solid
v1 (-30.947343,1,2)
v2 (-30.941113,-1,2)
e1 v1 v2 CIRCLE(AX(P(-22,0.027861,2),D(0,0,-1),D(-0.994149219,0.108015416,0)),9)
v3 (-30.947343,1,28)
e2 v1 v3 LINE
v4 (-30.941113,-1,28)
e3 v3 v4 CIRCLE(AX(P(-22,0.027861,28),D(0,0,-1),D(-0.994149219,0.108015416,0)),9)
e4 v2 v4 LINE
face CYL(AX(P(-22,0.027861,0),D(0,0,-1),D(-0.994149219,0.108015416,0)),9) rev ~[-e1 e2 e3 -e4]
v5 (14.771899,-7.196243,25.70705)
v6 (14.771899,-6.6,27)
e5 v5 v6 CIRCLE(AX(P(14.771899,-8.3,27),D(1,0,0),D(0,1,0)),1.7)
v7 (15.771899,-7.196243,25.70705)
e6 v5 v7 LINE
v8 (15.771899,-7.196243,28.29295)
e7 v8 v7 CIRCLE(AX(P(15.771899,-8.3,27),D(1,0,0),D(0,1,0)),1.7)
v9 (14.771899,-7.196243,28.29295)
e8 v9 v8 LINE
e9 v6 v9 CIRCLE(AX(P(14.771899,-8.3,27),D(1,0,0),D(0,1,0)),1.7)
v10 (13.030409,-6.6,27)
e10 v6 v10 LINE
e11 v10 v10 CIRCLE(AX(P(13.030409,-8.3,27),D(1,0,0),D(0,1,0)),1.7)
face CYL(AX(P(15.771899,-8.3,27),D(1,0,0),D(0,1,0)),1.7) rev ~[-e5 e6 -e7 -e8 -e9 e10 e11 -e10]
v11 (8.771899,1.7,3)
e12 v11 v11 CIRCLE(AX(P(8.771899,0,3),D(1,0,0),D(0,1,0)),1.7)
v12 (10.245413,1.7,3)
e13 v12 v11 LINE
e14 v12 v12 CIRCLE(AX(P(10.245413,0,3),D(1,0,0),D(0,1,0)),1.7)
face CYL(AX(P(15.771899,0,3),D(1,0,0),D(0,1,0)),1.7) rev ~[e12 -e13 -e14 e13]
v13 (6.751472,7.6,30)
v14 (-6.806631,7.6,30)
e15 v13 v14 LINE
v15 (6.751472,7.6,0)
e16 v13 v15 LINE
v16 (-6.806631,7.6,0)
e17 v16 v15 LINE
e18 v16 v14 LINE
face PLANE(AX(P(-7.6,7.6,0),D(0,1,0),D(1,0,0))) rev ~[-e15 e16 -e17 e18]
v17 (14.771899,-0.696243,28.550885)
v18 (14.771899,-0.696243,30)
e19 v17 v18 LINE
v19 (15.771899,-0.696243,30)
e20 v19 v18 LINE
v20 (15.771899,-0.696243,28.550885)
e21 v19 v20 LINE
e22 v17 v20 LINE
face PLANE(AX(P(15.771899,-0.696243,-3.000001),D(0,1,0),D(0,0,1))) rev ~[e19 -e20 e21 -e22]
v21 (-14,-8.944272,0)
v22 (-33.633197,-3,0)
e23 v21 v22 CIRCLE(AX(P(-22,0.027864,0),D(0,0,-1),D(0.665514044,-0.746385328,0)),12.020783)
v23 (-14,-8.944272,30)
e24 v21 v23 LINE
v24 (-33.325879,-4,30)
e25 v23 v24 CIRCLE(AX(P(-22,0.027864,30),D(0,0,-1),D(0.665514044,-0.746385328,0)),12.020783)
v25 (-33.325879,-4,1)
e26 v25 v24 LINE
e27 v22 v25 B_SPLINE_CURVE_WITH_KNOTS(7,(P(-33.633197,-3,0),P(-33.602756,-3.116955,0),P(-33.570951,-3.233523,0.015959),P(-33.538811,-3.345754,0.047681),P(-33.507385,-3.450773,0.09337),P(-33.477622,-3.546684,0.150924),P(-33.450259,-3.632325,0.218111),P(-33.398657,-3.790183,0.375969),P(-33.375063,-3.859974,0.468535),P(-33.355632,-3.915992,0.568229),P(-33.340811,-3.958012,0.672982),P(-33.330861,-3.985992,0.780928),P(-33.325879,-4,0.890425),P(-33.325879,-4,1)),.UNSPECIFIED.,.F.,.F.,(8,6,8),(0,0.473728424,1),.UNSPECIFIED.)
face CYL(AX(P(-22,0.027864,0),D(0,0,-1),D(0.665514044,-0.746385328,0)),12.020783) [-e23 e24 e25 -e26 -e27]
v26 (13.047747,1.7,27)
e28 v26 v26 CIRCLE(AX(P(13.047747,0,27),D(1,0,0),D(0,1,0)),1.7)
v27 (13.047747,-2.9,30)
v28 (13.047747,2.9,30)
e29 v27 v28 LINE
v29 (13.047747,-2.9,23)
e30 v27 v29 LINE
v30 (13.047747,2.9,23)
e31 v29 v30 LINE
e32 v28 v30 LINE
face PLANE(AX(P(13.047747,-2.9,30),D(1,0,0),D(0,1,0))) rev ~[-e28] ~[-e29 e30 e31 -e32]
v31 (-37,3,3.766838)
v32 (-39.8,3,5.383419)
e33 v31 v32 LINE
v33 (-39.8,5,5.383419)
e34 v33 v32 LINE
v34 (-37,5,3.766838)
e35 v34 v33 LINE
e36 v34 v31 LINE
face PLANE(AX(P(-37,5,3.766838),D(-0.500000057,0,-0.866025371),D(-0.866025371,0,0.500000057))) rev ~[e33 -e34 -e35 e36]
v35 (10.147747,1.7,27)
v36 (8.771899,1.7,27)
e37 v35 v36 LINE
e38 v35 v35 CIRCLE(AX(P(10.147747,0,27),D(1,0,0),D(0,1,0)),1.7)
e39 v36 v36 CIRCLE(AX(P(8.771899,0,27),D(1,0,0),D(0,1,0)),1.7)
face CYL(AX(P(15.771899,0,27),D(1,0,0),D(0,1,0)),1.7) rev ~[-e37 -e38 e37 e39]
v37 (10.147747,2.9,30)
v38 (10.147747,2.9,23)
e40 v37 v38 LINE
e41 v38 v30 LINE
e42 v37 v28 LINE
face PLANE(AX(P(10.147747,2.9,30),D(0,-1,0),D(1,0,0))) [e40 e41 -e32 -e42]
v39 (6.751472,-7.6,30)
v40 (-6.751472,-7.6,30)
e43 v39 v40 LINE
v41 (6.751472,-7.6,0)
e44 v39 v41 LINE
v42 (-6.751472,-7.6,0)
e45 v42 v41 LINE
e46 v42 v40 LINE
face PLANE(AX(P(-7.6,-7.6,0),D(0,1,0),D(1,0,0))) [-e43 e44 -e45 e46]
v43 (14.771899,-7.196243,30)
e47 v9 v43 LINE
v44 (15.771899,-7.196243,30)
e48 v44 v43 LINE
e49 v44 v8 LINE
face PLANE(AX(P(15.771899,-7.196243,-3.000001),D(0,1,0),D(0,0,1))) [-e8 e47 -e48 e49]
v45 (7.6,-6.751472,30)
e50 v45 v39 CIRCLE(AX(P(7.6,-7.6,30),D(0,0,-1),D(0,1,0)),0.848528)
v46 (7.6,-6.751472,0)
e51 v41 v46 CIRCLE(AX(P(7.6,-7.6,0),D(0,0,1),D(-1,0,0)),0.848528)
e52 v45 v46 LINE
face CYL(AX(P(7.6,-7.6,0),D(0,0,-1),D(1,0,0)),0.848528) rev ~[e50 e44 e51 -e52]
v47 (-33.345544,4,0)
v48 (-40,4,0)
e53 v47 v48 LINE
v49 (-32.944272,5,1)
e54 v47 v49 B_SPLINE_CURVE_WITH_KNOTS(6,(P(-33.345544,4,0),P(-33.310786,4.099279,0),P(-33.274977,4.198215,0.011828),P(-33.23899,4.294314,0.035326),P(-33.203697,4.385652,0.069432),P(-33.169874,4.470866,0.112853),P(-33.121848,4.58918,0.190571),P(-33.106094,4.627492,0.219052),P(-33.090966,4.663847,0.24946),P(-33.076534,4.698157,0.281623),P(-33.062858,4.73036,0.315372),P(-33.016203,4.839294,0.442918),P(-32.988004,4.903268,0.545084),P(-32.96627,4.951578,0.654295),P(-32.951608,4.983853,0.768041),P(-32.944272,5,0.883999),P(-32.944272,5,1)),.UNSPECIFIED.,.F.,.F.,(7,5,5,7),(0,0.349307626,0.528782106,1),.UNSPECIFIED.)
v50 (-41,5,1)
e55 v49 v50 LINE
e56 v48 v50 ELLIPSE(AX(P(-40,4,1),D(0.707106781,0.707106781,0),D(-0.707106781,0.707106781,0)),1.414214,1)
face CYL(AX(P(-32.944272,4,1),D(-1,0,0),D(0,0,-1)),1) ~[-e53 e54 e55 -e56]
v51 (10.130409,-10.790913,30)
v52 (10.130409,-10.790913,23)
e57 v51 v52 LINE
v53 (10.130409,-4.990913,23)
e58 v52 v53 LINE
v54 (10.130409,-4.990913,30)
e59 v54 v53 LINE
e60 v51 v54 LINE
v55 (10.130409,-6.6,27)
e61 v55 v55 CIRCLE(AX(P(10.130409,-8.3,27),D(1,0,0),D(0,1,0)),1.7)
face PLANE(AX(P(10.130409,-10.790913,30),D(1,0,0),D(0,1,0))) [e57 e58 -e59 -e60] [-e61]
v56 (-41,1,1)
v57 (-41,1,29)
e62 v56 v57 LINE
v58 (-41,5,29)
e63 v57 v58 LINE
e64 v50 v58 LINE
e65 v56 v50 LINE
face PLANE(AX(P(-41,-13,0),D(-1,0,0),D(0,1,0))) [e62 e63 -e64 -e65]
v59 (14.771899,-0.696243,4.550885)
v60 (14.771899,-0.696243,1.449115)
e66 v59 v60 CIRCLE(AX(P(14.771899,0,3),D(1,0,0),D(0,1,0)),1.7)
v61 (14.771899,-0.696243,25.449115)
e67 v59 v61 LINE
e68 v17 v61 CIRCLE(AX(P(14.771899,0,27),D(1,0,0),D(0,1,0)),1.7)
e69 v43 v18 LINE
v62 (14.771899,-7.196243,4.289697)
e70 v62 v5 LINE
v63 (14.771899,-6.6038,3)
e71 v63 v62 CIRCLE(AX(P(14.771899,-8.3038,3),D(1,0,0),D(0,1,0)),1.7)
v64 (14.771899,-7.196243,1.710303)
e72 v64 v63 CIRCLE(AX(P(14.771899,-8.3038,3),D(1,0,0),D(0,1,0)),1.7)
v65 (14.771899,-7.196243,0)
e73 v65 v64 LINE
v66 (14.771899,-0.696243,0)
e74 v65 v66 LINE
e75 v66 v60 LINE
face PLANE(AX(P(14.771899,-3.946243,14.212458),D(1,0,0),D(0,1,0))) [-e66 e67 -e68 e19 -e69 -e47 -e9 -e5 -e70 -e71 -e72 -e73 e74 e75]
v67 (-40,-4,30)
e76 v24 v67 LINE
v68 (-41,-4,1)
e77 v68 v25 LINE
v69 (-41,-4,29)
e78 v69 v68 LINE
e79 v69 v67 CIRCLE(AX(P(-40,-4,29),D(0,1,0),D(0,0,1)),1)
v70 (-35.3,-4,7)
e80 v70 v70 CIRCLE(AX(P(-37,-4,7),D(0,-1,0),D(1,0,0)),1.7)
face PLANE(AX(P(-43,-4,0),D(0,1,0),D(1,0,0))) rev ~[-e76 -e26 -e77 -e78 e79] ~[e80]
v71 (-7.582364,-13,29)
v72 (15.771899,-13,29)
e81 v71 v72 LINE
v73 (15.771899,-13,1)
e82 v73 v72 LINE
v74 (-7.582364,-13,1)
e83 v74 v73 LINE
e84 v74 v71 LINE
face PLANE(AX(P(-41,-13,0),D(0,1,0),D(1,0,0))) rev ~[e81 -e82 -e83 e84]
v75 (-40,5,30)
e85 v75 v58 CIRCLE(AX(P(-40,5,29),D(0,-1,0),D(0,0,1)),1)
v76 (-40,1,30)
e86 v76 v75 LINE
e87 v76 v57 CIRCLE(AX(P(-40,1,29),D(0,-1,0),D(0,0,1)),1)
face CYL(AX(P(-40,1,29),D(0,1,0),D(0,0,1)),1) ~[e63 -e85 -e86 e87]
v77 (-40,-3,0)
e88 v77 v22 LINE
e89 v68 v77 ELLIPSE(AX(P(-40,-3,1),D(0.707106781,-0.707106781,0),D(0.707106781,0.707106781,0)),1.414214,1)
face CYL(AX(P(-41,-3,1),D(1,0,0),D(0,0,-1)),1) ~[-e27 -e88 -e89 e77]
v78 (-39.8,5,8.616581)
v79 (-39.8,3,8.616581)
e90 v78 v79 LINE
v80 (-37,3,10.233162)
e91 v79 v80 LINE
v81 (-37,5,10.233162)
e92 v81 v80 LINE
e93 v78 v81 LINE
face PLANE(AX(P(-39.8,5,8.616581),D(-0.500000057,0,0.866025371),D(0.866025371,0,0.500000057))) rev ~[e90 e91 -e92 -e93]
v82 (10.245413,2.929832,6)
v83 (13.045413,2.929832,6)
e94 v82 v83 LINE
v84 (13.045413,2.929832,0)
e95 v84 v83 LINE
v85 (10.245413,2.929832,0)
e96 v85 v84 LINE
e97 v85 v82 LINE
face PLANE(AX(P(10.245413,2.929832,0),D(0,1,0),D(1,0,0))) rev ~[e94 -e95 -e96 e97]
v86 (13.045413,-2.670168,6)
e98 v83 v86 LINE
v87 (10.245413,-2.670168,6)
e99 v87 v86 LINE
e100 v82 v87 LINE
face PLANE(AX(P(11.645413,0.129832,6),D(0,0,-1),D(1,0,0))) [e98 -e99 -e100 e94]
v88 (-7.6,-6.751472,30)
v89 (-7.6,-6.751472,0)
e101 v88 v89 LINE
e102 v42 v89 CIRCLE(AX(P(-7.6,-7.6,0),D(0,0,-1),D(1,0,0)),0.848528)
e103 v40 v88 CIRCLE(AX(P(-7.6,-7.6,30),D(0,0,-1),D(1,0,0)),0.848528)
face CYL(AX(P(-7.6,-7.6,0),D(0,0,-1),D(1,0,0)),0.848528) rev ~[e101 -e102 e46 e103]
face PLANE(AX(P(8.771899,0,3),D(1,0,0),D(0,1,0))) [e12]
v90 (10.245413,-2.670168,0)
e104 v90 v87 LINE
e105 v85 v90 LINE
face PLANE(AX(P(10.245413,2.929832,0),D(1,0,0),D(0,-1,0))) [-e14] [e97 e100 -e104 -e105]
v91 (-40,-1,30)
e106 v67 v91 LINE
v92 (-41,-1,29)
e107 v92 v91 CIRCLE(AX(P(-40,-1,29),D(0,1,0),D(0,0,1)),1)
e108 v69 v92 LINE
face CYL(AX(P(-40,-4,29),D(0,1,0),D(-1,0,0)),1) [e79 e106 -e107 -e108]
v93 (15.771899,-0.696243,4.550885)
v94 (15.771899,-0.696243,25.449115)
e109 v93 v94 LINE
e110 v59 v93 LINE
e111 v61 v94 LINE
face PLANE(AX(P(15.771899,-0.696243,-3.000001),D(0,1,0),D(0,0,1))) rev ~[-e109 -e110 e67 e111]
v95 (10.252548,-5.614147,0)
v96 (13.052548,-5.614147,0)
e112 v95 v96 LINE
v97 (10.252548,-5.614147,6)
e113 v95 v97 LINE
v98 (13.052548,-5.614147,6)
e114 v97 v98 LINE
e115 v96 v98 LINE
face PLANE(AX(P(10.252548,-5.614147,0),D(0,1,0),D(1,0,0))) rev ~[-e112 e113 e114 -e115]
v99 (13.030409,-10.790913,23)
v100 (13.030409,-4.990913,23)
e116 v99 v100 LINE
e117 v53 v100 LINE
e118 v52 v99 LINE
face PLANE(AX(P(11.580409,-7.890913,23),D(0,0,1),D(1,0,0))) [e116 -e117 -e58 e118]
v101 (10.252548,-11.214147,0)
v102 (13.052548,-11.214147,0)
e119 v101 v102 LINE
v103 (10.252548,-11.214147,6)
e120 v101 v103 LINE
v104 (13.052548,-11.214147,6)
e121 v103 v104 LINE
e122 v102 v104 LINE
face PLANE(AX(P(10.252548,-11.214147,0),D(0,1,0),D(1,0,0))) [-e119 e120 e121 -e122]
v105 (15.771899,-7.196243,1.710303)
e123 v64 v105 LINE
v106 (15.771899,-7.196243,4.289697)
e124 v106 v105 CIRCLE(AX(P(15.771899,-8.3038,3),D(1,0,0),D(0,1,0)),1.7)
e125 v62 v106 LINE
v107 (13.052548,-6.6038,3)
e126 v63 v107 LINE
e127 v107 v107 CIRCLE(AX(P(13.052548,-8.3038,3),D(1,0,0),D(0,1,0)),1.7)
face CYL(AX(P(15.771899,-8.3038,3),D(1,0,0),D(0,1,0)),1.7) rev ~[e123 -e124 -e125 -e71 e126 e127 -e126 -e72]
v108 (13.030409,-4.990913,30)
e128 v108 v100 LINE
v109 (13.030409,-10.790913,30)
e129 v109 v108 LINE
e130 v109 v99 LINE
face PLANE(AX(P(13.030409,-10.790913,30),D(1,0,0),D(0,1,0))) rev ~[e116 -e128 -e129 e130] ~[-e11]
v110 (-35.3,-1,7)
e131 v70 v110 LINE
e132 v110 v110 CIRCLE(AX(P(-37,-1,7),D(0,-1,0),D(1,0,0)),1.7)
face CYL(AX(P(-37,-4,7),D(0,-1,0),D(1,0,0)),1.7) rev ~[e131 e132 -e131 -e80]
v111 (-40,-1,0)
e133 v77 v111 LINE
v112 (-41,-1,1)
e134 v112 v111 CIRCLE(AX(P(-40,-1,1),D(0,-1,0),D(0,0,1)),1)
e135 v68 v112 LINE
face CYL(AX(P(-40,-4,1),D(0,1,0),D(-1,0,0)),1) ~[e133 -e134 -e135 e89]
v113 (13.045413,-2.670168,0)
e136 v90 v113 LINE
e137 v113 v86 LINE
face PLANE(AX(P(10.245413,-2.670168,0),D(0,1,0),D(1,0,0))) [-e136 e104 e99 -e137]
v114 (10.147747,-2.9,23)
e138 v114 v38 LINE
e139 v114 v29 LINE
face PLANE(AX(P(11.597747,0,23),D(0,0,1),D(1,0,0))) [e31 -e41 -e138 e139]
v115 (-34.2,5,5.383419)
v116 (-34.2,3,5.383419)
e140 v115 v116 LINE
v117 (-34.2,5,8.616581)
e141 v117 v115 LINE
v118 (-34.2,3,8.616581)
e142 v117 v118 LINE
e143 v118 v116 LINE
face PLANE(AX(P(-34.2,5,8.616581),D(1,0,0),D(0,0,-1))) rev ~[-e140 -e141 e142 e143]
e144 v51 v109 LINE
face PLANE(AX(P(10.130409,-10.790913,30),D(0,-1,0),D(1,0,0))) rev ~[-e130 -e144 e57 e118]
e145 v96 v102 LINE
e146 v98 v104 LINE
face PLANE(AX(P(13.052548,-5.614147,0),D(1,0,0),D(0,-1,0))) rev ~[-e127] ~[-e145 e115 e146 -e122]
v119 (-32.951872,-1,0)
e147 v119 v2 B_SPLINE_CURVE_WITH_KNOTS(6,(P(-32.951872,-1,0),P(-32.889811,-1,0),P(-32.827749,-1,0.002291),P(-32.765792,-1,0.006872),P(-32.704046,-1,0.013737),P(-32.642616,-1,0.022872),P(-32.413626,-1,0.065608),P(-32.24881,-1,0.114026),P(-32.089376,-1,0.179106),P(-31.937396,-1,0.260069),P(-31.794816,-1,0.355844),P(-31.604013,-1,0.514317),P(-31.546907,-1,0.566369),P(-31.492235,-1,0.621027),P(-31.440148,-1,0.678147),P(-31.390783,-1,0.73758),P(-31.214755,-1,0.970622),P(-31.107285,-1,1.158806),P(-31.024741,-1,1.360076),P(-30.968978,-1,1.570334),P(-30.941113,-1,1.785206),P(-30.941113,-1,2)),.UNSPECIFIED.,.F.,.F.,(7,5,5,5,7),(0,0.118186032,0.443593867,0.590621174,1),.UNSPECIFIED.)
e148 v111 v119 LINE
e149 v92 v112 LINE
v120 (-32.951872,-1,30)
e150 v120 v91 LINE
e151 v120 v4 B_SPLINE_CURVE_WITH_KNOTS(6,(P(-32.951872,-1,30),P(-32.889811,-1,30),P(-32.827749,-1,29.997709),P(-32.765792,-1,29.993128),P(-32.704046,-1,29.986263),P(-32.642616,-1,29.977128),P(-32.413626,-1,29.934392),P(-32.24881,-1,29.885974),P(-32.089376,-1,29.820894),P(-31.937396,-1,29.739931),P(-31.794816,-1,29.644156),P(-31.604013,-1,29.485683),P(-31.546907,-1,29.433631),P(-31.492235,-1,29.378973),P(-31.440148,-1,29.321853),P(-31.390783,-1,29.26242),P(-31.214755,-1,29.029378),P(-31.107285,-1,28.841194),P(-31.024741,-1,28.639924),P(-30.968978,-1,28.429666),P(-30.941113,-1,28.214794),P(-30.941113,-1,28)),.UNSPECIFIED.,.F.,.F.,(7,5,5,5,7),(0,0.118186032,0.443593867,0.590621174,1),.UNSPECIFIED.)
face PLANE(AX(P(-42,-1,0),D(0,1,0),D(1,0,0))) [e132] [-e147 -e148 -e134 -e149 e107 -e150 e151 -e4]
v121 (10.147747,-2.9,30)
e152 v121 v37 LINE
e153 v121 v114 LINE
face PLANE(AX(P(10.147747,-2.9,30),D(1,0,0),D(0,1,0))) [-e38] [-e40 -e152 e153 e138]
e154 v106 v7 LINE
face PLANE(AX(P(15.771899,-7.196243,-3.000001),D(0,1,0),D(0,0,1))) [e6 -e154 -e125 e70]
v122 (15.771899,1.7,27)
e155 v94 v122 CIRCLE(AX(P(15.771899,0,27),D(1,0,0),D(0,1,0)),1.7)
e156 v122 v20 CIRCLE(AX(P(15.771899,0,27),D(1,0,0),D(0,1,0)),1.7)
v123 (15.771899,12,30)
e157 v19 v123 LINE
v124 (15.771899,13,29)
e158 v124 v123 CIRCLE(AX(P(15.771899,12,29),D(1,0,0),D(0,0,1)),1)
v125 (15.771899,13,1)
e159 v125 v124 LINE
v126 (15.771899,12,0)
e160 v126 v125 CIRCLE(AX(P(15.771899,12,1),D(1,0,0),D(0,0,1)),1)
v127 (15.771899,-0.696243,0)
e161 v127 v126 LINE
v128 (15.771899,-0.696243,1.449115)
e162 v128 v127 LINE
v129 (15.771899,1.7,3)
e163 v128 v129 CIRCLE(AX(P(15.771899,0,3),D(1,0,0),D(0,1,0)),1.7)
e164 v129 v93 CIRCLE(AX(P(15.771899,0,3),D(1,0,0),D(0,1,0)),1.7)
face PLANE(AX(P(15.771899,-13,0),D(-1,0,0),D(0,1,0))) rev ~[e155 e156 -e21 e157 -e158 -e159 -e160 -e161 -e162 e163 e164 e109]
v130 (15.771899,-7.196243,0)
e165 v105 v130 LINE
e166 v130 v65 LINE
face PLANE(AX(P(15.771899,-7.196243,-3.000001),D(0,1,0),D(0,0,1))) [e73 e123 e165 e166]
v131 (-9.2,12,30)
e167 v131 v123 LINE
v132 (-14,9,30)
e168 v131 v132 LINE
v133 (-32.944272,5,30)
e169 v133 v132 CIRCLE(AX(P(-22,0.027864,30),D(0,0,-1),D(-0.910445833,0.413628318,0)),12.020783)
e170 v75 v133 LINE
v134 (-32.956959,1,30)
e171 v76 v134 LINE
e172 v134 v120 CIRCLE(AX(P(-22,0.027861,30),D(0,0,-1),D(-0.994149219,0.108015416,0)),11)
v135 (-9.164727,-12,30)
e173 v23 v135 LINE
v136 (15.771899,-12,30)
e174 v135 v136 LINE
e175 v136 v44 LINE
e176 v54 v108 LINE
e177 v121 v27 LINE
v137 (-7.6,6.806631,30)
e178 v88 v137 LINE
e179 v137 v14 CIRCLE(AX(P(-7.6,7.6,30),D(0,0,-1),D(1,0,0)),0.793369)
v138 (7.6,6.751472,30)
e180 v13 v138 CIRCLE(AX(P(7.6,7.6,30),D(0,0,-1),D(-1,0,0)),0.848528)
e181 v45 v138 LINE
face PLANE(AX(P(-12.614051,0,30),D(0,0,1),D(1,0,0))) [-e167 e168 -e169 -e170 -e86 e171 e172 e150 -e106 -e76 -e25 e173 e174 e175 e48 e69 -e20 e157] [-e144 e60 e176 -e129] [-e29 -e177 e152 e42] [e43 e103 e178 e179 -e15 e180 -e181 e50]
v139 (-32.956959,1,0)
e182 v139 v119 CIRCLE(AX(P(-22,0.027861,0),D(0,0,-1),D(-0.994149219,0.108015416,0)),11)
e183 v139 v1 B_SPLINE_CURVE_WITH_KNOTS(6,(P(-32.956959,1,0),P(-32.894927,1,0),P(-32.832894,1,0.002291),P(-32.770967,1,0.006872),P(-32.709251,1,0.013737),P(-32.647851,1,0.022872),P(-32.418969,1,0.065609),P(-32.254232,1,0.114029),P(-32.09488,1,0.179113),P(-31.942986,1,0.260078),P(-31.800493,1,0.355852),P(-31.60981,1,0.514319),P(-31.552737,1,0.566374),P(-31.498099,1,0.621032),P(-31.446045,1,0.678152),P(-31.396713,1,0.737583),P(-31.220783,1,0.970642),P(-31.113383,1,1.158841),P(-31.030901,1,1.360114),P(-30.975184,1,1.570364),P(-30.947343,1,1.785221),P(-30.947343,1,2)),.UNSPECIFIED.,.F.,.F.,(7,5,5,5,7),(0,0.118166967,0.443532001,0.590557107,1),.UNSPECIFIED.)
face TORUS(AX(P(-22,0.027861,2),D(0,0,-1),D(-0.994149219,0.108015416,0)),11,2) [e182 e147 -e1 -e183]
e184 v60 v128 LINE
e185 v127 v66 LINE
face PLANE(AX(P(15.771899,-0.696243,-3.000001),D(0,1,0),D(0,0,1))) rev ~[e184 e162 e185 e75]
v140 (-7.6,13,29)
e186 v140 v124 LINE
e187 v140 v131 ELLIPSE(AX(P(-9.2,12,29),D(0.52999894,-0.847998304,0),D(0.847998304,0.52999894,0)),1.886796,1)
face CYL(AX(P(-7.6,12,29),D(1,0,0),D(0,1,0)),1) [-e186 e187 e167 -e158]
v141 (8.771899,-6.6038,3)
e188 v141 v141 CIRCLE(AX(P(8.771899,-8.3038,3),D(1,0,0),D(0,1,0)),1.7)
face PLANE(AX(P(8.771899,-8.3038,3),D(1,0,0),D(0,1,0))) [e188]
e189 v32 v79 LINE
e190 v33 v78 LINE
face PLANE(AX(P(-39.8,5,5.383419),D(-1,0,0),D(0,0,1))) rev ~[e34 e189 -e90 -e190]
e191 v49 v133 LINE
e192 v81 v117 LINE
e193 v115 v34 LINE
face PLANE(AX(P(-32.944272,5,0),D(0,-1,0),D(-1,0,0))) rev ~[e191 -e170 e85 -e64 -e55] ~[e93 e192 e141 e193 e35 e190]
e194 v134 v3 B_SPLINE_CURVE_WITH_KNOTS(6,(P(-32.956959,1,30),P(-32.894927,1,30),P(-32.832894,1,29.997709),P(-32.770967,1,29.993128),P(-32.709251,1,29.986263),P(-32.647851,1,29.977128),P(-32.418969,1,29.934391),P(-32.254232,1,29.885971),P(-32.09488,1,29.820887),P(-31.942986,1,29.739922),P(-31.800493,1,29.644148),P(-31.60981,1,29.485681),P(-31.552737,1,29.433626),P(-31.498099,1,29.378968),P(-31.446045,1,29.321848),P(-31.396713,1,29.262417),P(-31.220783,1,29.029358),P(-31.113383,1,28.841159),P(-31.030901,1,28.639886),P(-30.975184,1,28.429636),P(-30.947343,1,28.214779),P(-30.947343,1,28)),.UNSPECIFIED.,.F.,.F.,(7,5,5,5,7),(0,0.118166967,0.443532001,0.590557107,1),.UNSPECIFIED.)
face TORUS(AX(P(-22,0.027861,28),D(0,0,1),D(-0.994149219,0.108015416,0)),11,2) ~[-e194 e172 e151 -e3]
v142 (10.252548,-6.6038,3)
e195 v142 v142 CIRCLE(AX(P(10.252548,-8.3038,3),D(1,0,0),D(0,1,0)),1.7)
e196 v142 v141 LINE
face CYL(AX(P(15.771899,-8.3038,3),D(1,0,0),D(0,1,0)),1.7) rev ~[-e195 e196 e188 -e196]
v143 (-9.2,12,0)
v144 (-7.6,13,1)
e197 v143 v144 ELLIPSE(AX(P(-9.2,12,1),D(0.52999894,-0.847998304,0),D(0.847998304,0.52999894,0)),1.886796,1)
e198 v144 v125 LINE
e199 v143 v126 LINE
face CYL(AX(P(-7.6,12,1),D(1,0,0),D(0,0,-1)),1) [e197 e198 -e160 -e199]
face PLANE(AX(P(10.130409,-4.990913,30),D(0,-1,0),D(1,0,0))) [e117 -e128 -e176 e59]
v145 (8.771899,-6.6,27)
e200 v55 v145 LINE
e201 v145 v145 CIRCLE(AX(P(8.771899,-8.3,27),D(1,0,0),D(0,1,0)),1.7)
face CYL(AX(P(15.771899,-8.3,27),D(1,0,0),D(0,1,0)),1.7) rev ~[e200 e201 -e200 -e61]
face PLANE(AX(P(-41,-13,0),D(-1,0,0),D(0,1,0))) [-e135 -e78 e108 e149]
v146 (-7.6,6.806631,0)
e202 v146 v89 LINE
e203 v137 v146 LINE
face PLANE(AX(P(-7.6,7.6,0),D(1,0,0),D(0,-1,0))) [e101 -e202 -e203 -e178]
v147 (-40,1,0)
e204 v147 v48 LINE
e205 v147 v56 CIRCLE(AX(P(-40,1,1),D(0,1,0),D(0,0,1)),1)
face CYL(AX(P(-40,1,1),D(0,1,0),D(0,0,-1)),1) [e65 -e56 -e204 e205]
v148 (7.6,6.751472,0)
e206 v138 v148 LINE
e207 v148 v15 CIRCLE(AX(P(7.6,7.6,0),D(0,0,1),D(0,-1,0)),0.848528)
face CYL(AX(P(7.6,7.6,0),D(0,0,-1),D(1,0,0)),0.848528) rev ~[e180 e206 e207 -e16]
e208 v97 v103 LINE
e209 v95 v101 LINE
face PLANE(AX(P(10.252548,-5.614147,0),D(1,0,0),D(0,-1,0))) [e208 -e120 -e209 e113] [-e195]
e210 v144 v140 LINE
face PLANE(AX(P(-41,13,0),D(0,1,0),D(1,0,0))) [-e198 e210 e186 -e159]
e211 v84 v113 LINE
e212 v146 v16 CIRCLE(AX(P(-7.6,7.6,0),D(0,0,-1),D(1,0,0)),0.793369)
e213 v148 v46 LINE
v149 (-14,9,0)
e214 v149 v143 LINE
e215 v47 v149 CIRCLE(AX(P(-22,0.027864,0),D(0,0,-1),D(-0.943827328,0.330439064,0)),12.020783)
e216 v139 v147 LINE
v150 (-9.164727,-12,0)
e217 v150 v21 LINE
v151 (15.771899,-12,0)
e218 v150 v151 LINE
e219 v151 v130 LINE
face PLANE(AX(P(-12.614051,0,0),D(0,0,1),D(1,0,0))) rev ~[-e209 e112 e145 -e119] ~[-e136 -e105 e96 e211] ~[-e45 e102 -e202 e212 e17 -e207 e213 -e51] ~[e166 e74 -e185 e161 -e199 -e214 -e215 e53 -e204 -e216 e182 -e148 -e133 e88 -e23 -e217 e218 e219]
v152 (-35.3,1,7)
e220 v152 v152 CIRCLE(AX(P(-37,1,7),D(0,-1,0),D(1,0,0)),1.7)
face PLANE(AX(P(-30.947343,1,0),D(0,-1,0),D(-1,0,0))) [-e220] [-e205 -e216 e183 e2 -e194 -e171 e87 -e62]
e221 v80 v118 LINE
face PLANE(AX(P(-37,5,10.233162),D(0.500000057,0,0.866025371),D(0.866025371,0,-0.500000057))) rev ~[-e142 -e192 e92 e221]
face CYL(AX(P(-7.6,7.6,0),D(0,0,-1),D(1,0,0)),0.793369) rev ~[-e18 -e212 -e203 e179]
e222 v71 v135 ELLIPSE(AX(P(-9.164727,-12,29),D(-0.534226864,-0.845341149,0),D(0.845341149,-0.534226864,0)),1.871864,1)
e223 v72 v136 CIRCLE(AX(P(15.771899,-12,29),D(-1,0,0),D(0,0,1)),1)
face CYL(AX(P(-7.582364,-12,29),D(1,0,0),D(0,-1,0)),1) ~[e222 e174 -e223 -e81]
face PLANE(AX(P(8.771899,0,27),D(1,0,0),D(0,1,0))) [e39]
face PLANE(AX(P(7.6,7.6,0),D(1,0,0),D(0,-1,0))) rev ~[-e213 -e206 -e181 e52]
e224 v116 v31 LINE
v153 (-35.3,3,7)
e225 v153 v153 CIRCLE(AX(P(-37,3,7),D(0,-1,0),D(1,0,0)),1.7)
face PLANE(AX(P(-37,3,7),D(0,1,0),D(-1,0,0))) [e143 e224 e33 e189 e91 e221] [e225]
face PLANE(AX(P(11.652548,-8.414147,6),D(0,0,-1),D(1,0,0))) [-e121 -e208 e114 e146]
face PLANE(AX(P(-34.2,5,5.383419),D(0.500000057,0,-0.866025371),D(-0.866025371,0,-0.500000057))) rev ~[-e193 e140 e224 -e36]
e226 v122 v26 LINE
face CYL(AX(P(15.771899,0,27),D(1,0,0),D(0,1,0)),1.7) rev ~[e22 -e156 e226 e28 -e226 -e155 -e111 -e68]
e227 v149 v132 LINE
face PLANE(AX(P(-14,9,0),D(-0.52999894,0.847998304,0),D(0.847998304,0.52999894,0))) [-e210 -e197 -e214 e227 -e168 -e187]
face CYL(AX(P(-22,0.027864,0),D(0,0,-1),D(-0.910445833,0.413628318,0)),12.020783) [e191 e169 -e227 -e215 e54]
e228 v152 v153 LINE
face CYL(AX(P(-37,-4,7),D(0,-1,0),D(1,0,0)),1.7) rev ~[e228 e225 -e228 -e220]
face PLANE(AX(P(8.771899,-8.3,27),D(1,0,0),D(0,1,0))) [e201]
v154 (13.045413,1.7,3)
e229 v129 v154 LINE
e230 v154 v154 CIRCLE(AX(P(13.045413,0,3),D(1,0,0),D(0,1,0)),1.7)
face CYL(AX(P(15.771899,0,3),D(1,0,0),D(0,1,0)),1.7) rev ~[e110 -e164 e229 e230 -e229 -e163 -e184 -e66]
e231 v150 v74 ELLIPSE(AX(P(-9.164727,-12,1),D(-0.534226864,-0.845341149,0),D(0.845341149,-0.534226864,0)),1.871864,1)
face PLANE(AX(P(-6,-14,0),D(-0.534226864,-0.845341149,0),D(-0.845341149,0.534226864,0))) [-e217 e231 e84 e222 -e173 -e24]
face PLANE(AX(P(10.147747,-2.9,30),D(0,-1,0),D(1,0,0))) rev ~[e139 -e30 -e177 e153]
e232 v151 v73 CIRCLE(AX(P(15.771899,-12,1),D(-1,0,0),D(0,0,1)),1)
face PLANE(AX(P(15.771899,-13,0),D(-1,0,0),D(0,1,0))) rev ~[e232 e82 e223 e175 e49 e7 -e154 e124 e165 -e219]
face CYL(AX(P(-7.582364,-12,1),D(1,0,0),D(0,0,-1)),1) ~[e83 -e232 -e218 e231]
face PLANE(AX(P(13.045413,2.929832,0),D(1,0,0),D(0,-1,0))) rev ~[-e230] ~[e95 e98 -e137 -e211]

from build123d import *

# Parameters (mm, degrees)
SKETCH_W        = 56.771899
SKETCH_H        = 26
PAD_DEPTH       = 30
SKETCH001_W     = 15.2
SKETCH001_H     = 15.2
POCKET_DEPTH    = 30.001
SKETCH002_R     = 0.848528
SKETCH002_R_2   = 0.793369
POCKET001_DEPTH = 30.001
SKETCH003_W     = 2.8
SKETCH003_H     = 5.6
POCKET002_DEPTH = 6
SKETCH004_R     = 1.7
POCKET003_DEPTH = 7
SKETCH007_W     = 2.9
SKETCH007_H     = 5.8
POCKET004_DEPTH = 7
SKETCH008_W     = 6.5
SKETCH008_H     = 34.424917
POCKET005_DEPTH = 1
POCKET006_DEPTH = 2
SKETCH005_R     = 1.7
POCKET007_DEPTH = 17.001
FILLET_R        = 1
FILLET001_R     = 1
FILLET002_R     = 2


with BuildPart() as part:
    # Sketch → Pad (new body)
    with BuildSketch(Plane.XY):
        with Locations((-12.614051, 0)):
            Rectangle(SKETCH_W, SKETCH_H)
    extrude(amount=PAD_DEPTH)

    # Sketch001 → Pocket (cut, through all)
    with BuildSketch(Plane(origin=(0, 0, 0), x_dir=(1, 0, 0), z_dir=(0, 0, -1))):
        Rectangle(SKETCH001_W, SKETCH001_H)
        with BuildLine():
            ThreePointArc((-30.947343, -1), (-13.000044, -0.055902), (-30.941113, 1))
            Line((-42, 1), (-30.941113, 1))
            Line((-42, -1), (-42, 1))
            Line((-30.947343, -1), (-42, -1))
        make_face()
        with BuildLine():
            ThreePointArc((-14, 8.944272), (-24.9794, 11.617839), (-33.325879, 4))
            Line((-43, 4), (-33.325879, 4))
            Line((-43, 4), (-43, 14))
            Line((-43, 14), (-6, 14))
            Line((-6, 14), (-14, 8.944272))
        make_face()
        with BuildLine():
            Line((-6, -14), (-43, -14))
            Line((-43, -14), (-43, -5))
            Line((-32.944272, -5), (-43, -5))
            ThreePointArc((-32.944272, -5), (-24.483382, -11.789328), (-14, -9))
            Line((-14, -9), (-6, -14))
        make_face()
    extrude(amount=-POCKET_DEPTH, mode=Mode.SUBTRACT)

    # Sketch002 → Pocket001 (cut, through all)
    with BuildSketch(Plane(origin=(0, 0, 0), x_dir=(1, 0, 0), z_dir=(0, 0, -1))):
        with Locations((7.6, -7.6)):
            Circle(SKETCH002_R)
        with Locations((-7.6, -7.6)):
            Circle(SKETCH002_R_2)
        with Locations((-7.6, 7.6)):
            Circle(SKETCH002_R)
        with Locations((7.6, 7.6)):
            Circle(SKETCH002_R)
    extrude(amount=-POCKET001_DEPTH, mode=Mode.SUBTRACT)

    # Sketch003 → Pocket002 (cut)
    with BuildSketch(Plane(origin=(0, 0, 0), x_dir=(1, 0, 0), z_dir=(0, 0, -1))):
        with Locations((11.652548, 8.414147)):
            Rectangle(SKETCH003_W, SKETCH003_H)
        with Locations((11.645413, -0.129832)):
            Rectangle(SKETCH003_W, SKETCH003_H)
    extrude(amount=-POCKET002_DEPTH, mode=Mode.SUBTRACT)

    # Sketch004 → Pocket003 (cut)
    with BuildSketch(Plane.YZ.offset(15.771899)):
        with Locations((0, 3)):
            Circle(SKETCH004_R)
        with Locations((-8.3038, 3)):
            Circle(SKETCH004_R)
        with Locations((0, 27)):
            Circle(SKETCH004_R)
        with Locations((-8.3, 27)):
            Circle(SKETCH004_R)
    extrude(amount=-POCKET003_DEPTH, mode=Mode.SUBTRACT)

    # Sketch007 → Pocket004 (cut)
    with BuildSketch(Plane.XY.offset(30)):
        with Locations((11.597747, 0)):
            Rectangle(SKETCH007_W, SKETCH007_H)
        with Locations((11.580409, -7.890913)):
            Rectangle(SKETCH007_W, SKETCH007_H)
    extrude(amount=-POCKET004_DEPTH, mode=Mode.SUBTRACT)

    # Sketch008 → Pocket005 (cut)
    with BuildSketch(Plane.YZ.offset(15.771899)):
        with Locations((-3.946243, 14.212458)):
            Rectangle(SKETCH008_W, SKETCH008_H)
    extrude(amount=-POCKET005_DEPTH, mode=Mode.SUBTRACT)

    # Sketch006 → Pocket006 (cut)
    with BuildSketch(Plane(origin=(0, 5, 0), x_dir=(-1, 0, 0), z_dir=(0, 1, 0))):
        Polygon((39.8, 5.383419), (39.8, 8.616581), (37, 10.233162), (34.2, 8.616581), (34.2, 5.383419), (37, 3.766838), align=None)
    extrude(amount=-POCKET006_DEPTH, mode=Mode.SUBTRACT)

    # Sketch005 → Pocket007 (cut, through all)
    with BuildSketch(Plane.XZ.offset(4)):
        with Locations((-37, 7)):
            Circle(SKETCH005_R)
    extrude(amount=-POCKET007_DEPTH, mode=Mode.SUBTRACT)

    # Fillet
    fillet_edges = [part.edges().sort_by_distance(p)[0] for p in [
        (-41, -2.5, 0),
        (-41, 3, 0),
        (-41, 3, 30),
        (-41, -2.5, 30),
        (4.094768, -13, 0),
        (4.08595, 13, 0),
        (-37.162939, -4, 0),
        (-36.972136, 5, 0),
    ]]
    fillet(fillet_edges, radius=FILLET_R)

    # Fillet001
    fillet001_edges = [part.edges().sort_by_distance(p)[0] for p in [
        (4.094768, -13, 30),
        (4.08595, 13, 30),
    ]]
    fillet(fillet001_edges, radius=FILLET001_R)

    # Fillet002
    fillet002_edges = [part.edges().sort_by_distance(p)[0] for p in [
        (-13.000044, 0.055902, 30),
        (-13.000044, 0.055902, 0),
    ]]
    fillet(fillet002_edges, radius=FILLET002_R)


solid = part.part
